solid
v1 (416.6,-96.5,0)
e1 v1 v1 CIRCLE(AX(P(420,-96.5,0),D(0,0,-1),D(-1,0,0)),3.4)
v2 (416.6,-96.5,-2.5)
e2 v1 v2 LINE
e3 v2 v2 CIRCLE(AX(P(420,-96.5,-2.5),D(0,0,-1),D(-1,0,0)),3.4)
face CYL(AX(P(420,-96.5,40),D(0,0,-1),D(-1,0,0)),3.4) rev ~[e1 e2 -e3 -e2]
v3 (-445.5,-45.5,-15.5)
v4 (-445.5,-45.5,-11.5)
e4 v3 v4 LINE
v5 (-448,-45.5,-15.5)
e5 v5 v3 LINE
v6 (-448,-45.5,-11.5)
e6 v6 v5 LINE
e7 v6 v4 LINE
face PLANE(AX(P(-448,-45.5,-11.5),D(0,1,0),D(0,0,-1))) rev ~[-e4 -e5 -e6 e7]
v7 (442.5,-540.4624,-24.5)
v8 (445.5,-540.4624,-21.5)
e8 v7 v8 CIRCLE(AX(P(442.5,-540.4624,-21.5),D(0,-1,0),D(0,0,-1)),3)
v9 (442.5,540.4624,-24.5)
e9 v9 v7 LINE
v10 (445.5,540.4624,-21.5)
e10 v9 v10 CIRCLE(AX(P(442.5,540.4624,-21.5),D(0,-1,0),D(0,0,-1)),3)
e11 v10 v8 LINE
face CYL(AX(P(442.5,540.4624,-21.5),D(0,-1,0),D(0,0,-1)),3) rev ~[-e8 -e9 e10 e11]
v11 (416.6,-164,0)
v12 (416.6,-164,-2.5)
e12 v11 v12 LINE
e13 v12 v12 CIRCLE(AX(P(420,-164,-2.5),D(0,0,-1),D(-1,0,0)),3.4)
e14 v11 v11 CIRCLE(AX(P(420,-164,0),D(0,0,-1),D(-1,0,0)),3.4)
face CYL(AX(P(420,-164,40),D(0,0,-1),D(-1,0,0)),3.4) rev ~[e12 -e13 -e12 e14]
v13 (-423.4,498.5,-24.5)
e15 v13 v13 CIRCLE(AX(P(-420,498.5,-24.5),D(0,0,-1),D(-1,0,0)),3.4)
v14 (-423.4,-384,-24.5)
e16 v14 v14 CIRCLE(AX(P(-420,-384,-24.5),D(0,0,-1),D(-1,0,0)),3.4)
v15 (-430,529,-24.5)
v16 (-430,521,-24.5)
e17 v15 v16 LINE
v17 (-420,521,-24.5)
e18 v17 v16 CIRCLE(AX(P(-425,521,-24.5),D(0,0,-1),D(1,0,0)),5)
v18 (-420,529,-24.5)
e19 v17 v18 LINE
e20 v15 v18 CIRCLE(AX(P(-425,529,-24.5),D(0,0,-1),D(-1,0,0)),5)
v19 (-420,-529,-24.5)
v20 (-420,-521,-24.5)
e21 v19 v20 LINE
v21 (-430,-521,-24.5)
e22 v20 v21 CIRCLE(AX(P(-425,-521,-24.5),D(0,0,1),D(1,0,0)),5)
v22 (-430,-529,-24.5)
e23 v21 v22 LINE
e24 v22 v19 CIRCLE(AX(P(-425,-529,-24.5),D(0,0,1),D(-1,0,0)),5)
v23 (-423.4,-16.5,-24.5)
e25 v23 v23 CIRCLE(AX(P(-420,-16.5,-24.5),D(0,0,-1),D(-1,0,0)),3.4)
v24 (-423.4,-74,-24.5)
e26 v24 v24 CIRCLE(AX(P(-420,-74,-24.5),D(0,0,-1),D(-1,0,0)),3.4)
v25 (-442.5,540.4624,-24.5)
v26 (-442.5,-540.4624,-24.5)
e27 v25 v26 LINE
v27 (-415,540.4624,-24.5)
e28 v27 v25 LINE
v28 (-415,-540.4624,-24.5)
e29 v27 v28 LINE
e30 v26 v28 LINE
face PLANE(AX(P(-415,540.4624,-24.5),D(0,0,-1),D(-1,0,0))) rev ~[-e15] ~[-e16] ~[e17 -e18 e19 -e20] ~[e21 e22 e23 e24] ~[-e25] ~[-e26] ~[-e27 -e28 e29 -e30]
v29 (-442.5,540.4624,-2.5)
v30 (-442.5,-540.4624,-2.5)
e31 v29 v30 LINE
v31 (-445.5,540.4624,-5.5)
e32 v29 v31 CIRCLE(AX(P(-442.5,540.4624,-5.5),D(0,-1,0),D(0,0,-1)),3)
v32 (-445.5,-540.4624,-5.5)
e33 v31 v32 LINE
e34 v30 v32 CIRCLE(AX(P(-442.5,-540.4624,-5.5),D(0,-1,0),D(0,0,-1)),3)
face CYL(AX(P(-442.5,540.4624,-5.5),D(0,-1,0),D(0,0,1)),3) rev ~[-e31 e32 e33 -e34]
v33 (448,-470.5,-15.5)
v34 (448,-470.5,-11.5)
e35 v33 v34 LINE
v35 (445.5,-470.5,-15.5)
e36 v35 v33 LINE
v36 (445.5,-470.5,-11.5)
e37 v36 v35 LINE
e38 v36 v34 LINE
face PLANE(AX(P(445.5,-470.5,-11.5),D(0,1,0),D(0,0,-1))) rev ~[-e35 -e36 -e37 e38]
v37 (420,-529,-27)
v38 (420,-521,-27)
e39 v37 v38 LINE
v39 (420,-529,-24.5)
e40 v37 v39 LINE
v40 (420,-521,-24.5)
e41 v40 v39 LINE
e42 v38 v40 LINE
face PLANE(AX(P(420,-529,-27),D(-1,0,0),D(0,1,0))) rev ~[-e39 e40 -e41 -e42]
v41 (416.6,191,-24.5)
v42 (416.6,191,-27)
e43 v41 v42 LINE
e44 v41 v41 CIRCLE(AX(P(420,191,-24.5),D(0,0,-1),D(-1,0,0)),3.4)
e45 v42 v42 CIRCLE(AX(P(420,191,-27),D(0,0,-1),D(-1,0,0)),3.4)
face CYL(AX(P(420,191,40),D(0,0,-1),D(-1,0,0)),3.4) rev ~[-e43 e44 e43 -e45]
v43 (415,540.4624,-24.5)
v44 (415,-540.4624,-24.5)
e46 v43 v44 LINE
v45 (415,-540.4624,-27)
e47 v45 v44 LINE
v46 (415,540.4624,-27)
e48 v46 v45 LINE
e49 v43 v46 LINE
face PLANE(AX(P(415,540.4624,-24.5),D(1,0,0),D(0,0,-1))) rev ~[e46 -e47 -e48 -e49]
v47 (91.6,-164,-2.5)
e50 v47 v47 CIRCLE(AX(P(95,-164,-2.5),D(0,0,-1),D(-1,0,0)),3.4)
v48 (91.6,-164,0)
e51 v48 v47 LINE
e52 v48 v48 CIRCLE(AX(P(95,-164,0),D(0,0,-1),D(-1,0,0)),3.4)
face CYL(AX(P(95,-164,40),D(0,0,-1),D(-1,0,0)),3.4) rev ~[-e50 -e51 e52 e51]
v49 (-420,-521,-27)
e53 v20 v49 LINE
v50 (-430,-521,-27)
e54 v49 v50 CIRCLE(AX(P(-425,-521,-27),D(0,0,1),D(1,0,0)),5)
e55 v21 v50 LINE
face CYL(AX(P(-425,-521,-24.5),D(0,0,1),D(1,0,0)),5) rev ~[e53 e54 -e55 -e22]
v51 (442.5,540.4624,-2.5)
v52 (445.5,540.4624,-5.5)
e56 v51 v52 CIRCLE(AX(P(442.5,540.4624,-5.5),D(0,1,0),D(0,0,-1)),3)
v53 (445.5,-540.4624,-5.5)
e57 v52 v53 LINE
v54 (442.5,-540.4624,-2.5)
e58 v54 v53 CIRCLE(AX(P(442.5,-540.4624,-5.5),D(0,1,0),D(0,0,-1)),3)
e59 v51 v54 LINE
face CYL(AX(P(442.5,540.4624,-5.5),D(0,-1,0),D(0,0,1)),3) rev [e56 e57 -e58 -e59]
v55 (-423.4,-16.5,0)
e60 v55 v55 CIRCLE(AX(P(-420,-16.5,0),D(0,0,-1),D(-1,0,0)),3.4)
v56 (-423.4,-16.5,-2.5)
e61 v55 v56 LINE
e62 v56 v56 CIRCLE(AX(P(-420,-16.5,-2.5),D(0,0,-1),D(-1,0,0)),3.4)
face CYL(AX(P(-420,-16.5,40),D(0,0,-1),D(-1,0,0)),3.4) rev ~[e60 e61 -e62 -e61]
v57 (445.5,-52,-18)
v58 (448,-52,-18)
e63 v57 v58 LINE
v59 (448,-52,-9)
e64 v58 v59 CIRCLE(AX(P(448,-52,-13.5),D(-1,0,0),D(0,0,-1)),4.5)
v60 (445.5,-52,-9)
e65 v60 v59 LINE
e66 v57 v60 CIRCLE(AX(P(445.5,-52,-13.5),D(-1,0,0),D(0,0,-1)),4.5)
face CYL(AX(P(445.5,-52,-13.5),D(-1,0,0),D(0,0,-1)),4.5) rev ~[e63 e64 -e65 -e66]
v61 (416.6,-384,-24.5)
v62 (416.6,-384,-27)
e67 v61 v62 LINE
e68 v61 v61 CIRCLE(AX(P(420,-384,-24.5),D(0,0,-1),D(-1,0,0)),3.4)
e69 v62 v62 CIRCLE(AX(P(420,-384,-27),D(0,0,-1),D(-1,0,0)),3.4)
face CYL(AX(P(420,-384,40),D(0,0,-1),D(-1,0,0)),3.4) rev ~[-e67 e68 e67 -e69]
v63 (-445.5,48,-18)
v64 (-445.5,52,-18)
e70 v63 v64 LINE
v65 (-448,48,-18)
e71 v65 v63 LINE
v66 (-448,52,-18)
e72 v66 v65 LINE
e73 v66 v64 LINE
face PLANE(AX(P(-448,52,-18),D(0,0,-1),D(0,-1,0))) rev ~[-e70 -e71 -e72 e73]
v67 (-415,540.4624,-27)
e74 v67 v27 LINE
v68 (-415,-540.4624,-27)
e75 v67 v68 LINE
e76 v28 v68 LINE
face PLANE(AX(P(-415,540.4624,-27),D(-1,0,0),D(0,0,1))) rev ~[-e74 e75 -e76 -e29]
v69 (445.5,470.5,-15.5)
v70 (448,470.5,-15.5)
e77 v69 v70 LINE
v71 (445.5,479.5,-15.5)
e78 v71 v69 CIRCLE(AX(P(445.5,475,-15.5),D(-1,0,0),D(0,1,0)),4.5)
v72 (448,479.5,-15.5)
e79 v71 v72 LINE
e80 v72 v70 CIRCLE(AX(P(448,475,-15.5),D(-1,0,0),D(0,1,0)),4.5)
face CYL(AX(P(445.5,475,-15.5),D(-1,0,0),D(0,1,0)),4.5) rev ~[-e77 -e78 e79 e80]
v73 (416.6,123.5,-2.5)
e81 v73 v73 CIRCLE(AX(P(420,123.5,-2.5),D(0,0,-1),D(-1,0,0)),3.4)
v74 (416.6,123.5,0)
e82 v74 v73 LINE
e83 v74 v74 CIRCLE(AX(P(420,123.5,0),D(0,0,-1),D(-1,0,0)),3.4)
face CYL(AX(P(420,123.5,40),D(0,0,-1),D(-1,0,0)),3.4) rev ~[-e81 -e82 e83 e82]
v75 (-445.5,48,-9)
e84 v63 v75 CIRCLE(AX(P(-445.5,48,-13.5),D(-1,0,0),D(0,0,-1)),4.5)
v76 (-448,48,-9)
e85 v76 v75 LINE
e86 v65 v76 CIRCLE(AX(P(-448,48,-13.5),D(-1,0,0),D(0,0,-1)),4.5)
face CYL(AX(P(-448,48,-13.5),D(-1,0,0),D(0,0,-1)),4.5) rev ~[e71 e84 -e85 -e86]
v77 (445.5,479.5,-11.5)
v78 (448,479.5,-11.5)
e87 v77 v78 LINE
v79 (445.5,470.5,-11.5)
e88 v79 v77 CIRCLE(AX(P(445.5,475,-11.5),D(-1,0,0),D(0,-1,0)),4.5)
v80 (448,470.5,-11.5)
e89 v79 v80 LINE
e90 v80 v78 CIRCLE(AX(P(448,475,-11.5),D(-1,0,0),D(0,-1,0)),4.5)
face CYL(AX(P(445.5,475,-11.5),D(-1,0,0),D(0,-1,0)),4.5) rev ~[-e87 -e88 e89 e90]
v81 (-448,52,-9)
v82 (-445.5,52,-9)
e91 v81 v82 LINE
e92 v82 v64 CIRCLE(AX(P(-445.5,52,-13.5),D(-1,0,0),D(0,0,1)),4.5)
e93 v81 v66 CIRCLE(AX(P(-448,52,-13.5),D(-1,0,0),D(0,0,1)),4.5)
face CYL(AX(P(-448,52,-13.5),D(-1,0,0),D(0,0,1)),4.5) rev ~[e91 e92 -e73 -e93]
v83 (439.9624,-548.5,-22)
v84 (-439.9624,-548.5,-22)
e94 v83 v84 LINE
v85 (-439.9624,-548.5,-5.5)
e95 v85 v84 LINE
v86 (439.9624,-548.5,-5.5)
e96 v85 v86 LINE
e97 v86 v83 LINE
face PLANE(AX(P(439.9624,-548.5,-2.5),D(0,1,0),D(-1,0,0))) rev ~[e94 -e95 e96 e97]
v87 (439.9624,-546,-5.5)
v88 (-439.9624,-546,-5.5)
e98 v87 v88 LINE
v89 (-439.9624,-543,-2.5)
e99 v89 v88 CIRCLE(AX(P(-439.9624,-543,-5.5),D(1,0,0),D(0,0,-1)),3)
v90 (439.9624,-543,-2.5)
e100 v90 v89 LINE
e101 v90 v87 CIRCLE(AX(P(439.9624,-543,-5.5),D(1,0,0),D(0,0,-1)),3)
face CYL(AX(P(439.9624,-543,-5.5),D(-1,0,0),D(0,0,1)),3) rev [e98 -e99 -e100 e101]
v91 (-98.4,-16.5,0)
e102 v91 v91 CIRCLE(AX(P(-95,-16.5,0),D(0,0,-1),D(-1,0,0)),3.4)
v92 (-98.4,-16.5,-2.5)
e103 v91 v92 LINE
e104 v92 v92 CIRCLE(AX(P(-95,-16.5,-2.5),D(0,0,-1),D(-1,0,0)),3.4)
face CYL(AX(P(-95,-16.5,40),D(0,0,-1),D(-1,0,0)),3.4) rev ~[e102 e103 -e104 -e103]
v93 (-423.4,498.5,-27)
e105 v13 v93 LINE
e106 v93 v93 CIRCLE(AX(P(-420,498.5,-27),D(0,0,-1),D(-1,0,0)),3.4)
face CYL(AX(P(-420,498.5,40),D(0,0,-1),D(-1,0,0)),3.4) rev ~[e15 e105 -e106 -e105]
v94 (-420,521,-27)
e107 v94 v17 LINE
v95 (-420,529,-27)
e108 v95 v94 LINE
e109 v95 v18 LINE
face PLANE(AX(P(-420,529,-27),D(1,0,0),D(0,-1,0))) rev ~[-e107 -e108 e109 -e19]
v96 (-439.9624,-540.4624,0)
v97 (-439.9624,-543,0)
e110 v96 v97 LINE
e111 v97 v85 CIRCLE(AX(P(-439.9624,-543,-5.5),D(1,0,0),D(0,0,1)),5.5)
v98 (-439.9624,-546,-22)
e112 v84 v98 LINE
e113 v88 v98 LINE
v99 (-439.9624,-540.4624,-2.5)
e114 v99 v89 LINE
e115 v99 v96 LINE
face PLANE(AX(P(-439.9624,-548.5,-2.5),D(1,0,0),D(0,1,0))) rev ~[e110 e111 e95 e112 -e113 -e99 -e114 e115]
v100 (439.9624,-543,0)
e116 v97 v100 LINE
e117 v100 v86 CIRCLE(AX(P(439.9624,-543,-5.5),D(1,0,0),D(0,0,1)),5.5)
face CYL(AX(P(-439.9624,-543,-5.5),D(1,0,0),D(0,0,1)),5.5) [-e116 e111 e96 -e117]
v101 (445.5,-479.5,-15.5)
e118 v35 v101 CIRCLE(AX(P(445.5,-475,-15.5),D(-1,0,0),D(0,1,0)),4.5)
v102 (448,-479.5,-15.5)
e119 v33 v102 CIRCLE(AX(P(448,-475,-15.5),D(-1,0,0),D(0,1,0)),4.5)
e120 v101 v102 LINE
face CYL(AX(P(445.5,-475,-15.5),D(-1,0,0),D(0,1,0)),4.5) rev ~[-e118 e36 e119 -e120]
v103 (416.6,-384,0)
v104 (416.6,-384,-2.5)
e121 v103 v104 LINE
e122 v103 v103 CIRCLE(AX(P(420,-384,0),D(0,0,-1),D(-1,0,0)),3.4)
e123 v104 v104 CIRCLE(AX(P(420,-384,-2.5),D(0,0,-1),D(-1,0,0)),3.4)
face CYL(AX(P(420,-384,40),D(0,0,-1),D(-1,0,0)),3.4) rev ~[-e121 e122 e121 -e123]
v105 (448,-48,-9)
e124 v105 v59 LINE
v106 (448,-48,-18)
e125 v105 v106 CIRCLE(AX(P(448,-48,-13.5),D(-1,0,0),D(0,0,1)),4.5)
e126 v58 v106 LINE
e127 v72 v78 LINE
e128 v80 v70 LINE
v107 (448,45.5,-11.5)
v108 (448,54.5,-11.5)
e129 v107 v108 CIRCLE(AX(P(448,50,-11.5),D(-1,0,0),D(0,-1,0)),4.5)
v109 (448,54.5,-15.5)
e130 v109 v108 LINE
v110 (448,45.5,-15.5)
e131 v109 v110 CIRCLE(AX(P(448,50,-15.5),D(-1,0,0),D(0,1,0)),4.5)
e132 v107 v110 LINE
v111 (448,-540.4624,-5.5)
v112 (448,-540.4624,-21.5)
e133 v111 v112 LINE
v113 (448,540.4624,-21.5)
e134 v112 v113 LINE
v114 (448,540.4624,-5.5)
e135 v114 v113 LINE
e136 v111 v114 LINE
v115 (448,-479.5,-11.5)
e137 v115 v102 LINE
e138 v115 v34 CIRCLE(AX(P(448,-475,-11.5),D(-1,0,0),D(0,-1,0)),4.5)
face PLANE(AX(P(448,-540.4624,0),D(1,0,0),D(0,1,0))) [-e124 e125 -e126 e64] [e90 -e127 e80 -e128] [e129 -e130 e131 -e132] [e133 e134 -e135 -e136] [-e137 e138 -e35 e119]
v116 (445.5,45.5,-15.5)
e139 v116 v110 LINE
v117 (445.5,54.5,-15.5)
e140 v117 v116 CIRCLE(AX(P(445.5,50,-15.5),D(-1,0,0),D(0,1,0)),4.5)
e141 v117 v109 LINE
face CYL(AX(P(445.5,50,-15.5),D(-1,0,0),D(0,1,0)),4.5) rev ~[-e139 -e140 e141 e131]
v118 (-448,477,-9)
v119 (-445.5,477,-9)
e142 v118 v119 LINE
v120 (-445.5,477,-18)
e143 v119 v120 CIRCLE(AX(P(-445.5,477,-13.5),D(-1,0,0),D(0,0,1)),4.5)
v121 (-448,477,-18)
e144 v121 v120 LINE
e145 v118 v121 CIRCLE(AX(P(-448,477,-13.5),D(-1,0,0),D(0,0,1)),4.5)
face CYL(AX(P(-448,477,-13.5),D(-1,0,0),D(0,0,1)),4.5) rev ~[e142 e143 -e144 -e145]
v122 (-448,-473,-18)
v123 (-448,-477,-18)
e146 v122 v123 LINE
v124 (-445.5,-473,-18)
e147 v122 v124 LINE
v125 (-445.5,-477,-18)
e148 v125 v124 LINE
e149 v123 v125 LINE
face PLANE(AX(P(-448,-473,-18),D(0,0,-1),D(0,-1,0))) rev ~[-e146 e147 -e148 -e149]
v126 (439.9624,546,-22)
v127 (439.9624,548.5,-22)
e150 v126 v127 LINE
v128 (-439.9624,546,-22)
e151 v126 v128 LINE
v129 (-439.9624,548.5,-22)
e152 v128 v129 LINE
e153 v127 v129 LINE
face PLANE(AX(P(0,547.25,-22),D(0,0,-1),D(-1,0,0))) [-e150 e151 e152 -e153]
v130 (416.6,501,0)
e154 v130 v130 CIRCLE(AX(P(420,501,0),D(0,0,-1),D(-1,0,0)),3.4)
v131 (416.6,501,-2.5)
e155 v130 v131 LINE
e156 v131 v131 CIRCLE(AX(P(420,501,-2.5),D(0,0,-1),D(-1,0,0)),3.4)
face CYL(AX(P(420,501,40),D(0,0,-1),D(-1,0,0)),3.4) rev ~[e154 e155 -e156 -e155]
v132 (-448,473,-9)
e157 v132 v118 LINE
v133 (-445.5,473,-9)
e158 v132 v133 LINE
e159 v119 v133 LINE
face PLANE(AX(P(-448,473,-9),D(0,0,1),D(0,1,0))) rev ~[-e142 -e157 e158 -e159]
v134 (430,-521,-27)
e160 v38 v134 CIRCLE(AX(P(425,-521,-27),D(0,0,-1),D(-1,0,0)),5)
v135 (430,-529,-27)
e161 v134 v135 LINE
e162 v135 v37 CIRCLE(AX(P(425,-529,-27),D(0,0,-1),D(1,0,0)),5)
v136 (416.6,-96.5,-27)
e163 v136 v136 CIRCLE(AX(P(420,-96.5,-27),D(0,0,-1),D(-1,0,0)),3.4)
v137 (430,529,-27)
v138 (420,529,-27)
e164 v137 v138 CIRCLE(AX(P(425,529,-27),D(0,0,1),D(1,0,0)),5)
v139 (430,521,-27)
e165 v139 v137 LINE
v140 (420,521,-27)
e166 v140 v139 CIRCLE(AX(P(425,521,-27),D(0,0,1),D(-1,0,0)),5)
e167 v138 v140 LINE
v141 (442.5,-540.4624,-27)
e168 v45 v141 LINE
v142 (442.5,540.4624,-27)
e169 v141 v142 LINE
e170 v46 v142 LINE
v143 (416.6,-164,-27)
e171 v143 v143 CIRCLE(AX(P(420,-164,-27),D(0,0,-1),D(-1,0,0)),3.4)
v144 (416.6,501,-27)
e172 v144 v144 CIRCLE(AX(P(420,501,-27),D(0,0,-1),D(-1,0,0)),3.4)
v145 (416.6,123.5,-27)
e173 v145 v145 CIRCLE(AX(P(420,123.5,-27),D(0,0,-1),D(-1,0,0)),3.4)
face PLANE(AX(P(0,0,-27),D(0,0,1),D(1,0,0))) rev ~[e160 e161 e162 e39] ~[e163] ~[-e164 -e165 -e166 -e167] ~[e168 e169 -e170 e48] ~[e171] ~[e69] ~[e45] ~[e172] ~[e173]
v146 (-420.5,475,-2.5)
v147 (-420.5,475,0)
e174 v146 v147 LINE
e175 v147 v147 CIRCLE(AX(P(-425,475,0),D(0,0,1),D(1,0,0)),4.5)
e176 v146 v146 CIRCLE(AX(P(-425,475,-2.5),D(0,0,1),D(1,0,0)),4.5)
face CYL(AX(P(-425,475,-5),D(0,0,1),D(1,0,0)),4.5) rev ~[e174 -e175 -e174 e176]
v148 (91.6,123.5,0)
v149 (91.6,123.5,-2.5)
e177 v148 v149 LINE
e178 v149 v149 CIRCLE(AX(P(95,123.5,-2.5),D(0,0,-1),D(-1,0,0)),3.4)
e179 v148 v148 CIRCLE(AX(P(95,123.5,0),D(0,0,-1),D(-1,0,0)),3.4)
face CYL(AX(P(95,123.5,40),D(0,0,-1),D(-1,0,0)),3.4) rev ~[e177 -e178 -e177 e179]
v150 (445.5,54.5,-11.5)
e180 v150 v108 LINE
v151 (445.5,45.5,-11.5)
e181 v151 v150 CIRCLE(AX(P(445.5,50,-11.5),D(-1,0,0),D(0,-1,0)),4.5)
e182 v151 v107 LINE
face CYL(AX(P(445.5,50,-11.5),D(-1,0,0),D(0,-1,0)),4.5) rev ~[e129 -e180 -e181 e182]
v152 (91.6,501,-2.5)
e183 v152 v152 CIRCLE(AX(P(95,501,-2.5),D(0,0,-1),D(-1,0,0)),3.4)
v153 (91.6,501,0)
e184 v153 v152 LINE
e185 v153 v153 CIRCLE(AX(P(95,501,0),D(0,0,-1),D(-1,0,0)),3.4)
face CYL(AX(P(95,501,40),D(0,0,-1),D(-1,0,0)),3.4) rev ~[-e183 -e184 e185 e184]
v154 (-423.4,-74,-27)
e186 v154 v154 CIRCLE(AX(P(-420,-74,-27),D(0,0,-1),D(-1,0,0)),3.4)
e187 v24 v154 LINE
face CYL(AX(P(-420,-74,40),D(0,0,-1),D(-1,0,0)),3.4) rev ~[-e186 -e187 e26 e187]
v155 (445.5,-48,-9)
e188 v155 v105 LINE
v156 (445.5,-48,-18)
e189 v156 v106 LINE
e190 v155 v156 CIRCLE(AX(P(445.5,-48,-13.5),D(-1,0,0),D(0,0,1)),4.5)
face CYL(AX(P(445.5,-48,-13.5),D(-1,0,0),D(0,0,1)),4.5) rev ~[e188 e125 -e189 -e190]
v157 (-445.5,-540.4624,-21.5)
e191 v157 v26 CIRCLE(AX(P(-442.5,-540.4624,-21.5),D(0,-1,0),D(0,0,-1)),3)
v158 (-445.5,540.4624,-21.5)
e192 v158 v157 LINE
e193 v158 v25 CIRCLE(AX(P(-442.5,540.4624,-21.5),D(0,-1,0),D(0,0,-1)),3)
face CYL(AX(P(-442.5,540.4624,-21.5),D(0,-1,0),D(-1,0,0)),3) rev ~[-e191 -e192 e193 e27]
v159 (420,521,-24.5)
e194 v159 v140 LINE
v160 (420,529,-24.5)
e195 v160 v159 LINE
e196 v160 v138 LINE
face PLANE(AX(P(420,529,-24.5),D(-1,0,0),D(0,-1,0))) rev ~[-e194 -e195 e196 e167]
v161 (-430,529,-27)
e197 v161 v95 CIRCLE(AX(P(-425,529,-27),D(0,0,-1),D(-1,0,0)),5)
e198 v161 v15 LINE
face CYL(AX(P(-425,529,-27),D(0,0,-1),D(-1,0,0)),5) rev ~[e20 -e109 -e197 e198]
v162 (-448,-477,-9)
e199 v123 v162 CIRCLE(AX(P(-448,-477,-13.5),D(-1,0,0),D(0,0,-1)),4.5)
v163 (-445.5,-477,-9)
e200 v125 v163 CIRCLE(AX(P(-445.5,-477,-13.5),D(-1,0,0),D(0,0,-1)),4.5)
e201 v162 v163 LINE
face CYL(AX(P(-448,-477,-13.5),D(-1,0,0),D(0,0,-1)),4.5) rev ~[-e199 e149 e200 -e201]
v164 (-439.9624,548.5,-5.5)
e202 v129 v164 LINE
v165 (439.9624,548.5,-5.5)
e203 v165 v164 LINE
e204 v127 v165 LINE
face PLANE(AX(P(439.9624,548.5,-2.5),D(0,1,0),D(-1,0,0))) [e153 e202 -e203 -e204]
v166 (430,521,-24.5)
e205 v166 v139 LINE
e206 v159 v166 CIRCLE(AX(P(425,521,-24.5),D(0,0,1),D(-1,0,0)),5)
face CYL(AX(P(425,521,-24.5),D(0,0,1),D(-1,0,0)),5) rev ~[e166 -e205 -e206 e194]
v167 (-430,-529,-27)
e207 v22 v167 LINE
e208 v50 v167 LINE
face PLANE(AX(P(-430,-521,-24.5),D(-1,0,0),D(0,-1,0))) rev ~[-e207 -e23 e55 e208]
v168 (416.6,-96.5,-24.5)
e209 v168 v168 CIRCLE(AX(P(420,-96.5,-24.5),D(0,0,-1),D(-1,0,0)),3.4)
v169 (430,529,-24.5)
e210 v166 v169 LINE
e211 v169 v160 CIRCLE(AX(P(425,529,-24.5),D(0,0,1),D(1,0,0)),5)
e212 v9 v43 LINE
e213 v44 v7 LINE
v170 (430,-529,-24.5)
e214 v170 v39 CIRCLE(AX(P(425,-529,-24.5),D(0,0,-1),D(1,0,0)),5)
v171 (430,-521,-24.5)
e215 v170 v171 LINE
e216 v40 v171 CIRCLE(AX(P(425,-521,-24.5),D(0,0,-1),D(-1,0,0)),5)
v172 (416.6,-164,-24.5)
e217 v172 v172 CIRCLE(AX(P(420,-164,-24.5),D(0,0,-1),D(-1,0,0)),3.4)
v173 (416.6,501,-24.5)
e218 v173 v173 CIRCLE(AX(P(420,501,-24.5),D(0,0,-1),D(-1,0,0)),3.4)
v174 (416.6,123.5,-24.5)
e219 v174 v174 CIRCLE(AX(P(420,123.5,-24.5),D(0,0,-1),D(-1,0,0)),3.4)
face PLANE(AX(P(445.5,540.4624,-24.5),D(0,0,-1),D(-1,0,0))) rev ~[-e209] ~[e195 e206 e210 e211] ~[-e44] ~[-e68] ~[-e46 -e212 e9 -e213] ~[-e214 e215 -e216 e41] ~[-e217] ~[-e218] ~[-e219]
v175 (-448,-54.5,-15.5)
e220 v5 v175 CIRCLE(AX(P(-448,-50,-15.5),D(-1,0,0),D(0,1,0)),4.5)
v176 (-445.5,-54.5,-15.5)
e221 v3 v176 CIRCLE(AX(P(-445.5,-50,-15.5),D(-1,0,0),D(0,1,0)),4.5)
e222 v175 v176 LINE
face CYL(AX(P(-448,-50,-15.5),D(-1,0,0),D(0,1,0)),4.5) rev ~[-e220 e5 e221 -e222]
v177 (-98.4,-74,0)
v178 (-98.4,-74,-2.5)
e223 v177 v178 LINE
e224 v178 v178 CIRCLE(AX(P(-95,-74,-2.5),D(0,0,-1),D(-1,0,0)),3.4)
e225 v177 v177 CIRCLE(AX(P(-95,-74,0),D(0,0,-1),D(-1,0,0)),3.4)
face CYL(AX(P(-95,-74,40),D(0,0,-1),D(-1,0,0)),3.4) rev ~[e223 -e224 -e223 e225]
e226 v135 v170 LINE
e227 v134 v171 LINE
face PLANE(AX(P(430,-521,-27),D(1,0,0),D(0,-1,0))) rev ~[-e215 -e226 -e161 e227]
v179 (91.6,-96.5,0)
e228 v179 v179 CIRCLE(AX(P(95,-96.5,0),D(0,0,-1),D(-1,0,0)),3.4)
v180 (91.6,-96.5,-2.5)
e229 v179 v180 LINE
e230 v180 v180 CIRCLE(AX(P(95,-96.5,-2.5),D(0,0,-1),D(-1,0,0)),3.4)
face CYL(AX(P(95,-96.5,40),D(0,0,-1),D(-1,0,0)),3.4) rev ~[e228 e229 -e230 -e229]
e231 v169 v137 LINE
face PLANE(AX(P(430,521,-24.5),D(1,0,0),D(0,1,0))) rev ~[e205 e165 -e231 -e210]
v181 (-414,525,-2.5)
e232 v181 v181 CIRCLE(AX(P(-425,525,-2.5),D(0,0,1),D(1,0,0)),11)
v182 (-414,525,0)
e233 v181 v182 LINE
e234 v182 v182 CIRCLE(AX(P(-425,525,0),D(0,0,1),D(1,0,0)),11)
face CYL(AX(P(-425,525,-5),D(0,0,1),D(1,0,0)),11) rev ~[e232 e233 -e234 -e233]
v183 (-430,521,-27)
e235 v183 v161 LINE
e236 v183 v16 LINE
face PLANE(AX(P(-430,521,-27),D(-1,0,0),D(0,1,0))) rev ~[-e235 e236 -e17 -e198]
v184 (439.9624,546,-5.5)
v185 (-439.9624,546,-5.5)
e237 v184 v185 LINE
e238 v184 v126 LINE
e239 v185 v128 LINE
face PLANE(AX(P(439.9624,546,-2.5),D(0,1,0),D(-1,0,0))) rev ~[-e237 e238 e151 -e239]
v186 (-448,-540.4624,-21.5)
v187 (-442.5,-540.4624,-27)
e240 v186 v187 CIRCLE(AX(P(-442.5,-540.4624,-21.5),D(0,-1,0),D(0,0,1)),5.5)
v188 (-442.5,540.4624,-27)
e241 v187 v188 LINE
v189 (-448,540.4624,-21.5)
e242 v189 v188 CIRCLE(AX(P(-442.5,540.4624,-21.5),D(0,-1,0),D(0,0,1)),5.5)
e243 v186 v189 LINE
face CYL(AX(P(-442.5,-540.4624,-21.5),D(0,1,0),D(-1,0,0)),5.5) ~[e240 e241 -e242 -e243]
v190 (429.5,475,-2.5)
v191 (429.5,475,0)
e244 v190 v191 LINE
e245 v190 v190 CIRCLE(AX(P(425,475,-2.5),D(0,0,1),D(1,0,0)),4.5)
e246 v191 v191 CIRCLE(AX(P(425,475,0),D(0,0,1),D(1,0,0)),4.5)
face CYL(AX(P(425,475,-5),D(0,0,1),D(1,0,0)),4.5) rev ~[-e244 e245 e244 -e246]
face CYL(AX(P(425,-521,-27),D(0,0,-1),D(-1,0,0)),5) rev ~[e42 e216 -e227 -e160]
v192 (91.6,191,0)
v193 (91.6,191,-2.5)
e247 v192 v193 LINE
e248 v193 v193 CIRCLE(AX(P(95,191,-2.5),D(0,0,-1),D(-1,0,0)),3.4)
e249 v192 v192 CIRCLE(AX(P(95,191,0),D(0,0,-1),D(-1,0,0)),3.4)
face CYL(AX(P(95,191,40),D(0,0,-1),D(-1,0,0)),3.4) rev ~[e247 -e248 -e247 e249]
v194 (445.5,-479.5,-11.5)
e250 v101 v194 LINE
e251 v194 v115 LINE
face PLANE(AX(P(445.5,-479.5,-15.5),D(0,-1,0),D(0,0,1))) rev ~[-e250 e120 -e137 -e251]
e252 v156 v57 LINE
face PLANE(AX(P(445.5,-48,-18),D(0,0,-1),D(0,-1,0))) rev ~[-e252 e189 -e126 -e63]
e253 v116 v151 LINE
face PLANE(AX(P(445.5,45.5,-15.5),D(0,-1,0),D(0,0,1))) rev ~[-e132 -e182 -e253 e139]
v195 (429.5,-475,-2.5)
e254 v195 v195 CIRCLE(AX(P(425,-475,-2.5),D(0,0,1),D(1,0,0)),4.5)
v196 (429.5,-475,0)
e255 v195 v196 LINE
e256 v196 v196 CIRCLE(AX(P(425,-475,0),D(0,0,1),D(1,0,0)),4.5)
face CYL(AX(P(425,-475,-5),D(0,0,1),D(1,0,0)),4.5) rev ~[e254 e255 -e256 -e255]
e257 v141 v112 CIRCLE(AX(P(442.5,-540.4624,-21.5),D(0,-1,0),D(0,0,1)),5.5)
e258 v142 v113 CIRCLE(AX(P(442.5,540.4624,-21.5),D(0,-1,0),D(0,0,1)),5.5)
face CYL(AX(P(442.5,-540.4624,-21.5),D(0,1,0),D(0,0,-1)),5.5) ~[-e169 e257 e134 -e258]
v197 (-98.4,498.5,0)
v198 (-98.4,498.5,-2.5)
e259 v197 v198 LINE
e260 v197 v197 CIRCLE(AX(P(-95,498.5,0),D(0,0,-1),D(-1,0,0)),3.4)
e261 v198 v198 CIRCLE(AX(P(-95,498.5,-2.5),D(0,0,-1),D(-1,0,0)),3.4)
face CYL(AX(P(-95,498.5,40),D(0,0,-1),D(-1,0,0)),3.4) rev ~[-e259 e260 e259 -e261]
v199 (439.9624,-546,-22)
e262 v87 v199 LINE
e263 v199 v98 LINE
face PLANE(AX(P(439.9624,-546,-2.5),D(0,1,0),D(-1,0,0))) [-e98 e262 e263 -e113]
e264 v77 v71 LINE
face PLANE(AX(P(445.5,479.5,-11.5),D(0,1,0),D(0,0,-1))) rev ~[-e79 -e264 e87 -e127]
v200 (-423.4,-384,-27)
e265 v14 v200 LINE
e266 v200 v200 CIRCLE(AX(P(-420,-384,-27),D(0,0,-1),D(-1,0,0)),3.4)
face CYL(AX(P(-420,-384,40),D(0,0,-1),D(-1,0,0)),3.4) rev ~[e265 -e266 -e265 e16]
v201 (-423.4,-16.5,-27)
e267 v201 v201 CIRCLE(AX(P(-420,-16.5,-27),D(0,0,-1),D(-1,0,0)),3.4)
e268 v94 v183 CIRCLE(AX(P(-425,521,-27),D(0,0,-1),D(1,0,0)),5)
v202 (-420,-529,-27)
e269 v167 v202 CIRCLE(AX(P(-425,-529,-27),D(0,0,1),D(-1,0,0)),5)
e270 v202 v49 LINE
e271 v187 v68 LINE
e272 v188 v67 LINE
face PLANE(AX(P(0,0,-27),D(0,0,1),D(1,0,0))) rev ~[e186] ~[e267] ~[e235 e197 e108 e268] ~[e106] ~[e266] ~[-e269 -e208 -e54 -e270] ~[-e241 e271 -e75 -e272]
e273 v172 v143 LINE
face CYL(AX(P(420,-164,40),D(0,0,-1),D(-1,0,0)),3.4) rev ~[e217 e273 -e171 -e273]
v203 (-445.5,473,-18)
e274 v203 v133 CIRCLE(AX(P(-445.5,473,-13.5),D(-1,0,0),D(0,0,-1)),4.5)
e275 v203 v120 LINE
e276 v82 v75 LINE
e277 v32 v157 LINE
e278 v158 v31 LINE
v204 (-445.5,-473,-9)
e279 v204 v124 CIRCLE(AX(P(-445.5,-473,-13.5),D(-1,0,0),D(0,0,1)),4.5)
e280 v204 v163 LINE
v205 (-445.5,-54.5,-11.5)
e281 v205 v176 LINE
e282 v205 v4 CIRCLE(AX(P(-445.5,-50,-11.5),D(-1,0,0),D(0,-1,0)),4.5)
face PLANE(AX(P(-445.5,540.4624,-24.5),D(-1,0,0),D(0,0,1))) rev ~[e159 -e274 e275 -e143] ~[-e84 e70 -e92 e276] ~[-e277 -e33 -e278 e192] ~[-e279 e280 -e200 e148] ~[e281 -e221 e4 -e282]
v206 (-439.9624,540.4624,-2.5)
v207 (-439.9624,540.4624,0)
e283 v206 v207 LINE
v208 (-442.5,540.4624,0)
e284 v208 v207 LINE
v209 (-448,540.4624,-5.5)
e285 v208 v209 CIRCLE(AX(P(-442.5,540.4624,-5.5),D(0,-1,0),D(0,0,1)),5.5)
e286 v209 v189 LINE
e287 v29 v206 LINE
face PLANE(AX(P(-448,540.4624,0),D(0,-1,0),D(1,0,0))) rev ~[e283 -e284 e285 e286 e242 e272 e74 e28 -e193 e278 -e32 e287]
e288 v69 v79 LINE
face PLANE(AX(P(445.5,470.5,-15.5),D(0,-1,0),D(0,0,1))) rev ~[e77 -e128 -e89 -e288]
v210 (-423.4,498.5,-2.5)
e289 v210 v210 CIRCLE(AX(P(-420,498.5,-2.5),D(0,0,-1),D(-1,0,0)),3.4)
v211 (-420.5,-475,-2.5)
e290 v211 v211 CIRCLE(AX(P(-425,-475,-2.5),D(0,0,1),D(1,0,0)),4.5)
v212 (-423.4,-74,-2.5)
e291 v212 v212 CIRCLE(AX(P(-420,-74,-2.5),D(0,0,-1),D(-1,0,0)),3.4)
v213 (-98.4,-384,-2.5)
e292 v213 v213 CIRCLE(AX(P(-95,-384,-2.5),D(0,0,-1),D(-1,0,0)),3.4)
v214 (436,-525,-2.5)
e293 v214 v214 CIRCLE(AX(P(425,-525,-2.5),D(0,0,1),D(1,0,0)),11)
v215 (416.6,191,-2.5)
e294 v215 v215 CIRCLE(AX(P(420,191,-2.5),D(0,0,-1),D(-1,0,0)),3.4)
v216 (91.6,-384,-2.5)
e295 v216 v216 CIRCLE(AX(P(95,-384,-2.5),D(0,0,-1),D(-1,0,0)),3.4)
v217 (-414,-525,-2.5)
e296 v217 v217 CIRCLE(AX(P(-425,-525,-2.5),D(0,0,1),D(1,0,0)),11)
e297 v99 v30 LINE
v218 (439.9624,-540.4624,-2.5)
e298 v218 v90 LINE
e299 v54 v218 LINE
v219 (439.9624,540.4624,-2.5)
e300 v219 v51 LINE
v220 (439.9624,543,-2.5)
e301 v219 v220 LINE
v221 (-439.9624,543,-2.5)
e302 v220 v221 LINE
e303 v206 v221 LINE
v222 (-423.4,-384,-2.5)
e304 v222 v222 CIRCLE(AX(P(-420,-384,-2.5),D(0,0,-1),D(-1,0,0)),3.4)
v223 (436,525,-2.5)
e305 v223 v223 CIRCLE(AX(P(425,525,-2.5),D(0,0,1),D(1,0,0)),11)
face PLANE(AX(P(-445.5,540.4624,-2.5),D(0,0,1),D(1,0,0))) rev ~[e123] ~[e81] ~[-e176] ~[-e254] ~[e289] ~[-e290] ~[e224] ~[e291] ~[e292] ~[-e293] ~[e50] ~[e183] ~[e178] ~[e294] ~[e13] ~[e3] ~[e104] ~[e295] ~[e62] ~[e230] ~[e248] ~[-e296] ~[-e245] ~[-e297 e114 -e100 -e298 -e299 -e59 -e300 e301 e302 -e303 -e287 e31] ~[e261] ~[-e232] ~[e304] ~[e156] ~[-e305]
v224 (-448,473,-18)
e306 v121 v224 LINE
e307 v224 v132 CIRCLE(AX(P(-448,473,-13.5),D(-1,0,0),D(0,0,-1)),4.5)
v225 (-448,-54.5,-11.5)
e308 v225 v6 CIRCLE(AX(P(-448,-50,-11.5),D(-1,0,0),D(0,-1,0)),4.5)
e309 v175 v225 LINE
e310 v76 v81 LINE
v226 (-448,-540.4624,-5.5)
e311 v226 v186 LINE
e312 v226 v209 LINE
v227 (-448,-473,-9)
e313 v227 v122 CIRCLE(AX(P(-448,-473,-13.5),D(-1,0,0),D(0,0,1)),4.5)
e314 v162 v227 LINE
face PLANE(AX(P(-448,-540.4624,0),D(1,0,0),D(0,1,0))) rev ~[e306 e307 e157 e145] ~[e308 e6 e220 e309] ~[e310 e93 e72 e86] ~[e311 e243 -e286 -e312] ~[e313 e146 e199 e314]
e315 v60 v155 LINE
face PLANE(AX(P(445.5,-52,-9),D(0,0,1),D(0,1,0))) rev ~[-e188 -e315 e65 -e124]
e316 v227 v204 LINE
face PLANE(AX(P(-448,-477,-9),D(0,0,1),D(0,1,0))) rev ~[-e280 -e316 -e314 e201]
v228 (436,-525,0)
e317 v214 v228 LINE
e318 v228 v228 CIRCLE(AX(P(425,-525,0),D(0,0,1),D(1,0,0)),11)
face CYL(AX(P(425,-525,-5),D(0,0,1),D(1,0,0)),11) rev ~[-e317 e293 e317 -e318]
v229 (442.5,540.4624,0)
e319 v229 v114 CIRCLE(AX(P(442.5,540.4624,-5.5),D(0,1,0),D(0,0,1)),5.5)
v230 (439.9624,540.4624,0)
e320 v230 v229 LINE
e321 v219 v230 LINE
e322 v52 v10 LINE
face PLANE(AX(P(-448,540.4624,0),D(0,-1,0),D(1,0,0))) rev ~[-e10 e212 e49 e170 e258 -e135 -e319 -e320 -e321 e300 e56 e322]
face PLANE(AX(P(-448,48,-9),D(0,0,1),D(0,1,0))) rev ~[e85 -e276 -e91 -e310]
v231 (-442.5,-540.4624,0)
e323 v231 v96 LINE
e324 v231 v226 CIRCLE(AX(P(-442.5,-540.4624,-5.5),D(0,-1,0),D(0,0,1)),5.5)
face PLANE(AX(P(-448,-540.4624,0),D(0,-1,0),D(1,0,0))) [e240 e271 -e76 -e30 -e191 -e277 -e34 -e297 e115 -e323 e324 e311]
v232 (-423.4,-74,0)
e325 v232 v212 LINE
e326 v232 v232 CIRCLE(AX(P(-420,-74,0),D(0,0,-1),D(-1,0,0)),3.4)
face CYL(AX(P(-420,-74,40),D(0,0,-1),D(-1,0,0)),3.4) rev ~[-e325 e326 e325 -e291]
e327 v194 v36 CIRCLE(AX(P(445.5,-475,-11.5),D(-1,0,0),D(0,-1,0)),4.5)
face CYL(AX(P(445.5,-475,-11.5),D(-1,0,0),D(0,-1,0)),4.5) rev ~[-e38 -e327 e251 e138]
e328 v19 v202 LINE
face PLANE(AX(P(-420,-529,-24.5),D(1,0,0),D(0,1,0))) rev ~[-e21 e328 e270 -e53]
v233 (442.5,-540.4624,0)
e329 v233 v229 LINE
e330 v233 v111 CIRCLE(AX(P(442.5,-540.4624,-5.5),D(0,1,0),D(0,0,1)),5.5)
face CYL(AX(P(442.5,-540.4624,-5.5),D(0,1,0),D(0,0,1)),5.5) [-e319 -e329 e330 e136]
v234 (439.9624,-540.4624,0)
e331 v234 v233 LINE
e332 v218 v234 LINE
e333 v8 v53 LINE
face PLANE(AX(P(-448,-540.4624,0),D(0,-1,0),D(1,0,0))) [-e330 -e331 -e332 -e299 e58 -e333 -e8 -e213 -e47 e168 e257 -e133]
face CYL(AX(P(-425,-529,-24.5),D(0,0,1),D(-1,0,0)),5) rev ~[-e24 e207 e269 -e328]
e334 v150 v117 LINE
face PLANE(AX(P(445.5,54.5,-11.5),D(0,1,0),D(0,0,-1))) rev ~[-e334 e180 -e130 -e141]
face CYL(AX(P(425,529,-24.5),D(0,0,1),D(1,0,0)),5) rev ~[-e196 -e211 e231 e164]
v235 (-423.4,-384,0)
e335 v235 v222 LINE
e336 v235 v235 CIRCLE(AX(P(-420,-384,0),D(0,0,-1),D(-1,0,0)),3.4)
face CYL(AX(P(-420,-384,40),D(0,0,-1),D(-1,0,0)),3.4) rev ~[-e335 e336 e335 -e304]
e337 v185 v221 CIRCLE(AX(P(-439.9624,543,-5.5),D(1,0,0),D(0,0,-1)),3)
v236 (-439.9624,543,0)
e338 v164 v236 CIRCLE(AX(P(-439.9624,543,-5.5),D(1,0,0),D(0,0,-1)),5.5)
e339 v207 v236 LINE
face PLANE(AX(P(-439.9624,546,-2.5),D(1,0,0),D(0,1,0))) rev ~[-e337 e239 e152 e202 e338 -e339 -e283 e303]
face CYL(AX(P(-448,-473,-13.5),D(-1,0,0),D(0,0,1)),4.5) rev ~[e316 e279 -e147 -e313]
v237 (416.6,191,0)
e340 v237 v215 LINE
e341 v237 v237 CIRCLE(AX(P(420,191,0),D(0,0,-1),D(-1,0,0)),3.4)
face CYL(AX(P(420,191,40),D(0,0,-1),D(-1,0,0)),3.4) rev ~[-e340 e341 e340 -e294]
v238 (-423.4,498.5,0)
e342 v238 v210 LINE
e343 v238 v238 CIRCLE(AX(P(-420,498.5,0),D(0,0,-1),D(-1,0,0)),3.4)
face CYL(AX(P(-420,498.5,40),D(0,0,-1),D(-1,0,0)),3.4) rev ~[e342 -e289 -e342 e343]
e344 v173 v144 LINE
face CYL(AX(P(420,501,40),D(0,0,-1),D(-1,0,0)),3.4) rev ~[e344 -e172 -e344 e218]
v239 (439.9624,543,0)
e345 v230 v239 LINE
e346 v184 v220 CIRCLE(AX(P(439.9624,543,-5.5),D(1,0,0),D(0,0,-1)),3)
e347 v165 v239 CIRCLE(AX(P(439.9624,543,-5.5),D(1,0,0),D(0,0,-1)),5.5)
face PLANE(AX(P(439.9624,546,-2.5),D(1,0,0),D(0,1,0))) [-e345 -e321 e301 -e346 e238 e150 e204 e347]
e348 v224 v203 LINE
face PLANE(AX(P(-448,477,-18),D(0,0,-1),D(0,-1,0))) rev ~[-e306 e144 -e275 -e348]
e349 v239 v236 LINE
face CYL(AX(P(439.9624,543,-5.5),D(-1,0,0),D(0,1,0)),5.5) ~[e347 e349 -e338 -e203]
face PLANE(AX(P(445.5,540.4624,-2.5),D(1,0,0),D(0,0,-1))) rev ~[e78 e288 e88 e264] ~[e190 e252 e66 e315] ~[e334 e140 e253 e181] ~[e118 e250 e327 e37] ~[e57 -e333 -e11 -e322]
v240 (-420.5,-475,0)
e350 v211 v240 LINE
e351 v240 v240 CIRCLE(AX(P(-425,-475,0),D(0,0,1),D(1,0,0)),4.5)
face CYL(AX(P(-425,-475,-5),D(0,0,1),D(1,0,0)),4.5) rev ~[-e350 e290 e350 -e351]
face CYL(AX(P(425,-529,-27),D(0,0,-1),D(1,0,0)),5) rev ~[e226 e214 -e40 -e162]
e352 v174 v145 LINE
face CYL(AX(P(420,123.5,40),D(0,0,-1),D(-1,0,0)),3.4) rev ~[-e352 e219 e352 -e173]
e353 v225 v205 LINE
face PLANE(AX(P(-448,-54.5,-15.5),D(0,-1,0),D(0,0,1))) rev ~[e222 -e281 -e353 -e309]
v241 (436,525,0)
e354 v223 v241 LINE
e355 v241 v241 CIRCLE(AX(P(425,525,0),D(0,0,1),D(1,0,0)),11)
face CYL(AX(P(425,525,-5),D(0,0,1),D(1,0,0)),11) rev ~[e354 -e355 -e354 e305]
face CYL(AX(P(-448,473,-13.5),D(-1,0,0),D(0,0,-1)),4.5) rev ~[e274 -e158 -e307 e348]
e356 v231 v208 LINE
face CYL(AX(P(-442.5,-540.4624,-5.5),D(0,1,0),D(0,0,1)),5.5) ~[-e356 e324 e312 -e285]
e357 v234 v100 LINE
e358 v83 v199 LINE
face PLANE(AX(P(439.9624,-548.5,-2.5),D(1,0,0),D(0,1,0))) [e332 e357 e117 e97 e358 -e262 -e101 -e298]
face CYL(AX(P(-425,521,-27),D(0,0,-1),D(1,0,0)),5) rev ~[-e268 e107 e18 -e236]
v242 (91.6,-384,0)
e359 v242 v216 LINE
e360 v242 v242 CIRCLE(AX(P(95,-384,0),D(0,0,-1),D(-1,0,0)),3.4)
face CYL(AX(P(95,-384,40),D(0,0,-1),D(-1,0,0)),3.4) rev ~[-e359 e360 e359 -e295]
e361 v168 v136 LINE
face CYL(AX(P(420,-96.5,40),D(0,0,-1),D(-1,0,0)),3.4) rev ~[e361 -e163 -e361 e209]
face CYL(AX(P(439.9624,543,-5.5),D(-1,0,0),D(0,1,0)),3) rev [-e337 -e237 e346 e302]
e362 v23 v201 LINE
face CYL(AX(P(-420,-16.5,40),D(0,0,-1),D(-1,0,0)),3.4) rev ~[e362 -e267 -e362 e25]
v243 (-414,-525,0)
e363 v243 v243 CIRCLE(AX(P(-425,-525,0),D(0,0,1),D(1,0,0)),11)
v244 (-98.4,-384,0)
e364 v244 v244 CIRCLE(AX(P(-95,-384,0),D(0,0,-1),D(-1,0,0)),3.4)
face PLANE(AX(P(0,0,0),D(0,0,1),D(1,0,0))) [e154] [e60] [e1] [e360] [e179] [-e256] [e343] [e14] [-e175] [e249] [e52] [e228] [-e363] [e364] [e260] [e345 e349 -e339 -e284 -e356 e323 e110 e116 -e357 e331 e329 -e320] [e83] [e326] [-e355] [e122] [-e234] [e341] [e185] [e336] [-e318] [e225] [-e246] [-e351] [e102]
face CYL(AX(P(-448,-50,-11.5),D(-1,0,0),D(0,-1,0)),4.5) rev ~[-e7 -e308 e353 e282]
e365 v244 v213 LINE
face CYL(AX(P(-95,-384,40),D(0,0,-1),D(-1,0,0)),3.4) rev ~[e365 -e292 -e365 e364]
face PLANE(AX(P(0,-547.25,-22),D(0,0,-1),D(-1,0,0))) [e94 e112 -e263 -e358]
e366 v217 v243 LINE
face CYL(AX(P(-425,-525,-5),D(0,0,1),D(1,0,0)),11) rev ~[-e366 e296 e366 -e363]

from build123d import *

# Parameters (mm, degrees)
ESQUISSE1_W                                   = 896
ESQUISSE1_H                                   = 1080.9248
BOSS_EXTRU_1_DEPTH                            = 27
ENL_V_MAT_EXTRU_1_DEPTH                       = 1081.9248
ESQUISSE3_W                                   = 879.9248
ESQUISSE3_H                                   = 2.5
BOSS_EXTRU_2_DEPTH                            = 8.0376
ESQUISSE4_W                                   = 879.9248
ESQUISSE4_H                                   = 2.5
BOSS_EXTRU_3_DEPTH                            = 19.5
ESQUISSE5_W                                   = 879.9248
ESQUISSE5_H                                   = 2.5
BOSS_EXTRU_4_DEPTH                            = 8.0376
ESQUISSE6_W                                   = 879.9248
ESQUISSE6_H                                   = 2.5
BOSS_EXTRU_5_DEPTH                            = 19.5
ENL_V_MAT_EXTRU_2_REACH                       = 29
ENL_V_MAT_EXTRU_3_DEPTH                       = 3.5
ENL_V_MAT_EXTRU_4_DEPTH                       = 3.5
ENL_V_MAT_EXTRU_5_DEPTH                       = 3.5
ENL_V_MAT_EXTRU_6_DEPTH                       = 3.5
ENL_V_MAT_EXTRU_7_DEPTH                       = 3.5
ENL_V_MAT_EXTRU_8_DEPTH                       = 3.5
ENL_V_MAT_EXTRU_9_REACH                       = 898
ENL_V_MAT_EXTRU_10_REACH                      = 898
ENL_V_MAT_EXTRU_11_REACH                      = 898
ENL_V_MAT_EXTRU_12_REACH                      = 898
ENL_V_MAT_EXTRU_13_REACH                      = 29
DIAM_TRE_DU_PER_AGE_9_0_9_1_D                 = 9
DIAM_TRE_DU_PER_AGE_9_0_9_1_DEPTH             = 2.5
DIAM_TRE_DU_PER_AGE_22_0_22_1_D               = 22
DIAM_TRE_DU_PER_AGE_22_0_22_1_DEPTH           = 2.5
CONG_1_R                                      = 3
CONG_2_R                                      = 5.5
TROU_POUR_TARAUDAGE_POUR_TROU_TARAUD_M8_D     = 6.8
TROU_POUR_TARAUDAGE_POUR_TROU_TARAUD_M8_DEPTH = 40
TROU_POUR_TARAUDAGE_POUR_TROU_TARAUD_M8_TIP   = 2.042926105
TROU_POUR_TARAUDAGE_POUR_TROU_TARAUD_2_D      = 6.8
TROU_POUR_TARAUDAGE_POUR_TROU_TARAUD_2_DEPTH  = 40
TROU_POUR_TARAUDAGE_POUR_TROU_TARAUD_2_TIP    = 2.042926105


with BuildPart() as part:
    # Esquisse1 → Boss.-Extru.1 (new body)
    with BuildSketch(Plane.XY):
        Rectangle(ESQUISSE1_W, ESQUISSE1_H)
    extrude(amount=-BOSS_EXTRU_1_DEPTH)

    # Esquisse2 → Enlèv. mat.-Extru.1 (cut, through all)
    with BuildSketch(Plane(origin=(0, 540.4624, 0), x_dir=(-1, 0, 0), z_dir=(0, 1, 0))):
        Polygon((415, -27), (415, -24.5), (445.5, -24.5), (445.5, -2.5), (-445.5, -2.5), (-445.5, -24.5), (-415, -24.5), (-415, -27), align=None)
    extrude(amount=-ENL_V_MAT_EXTRU_1_DEPTH, mode=Mode.SUBTRACT)

    # Esquisse3 → Boss.-Extru.2 (add)
    with BuildSketch(Plane.XZ.offset(540.4624)):
        with Locations((0, -1.25)):
            Rectangle(ESQUISSE3_W, ESQUISSE3_H)
    extrude(amount=BOSS_EXTRU_2_DEPTH)

    # Esquisse4 → Boss.-Extru.3 (add)
    with BuildSketch(Plane(origin=(0, 0, -2.5), x_dir=(-1, 0, 0), z_dir=(0, 0, -1))):
        with Locations((0, -547.25)):
            Rectangle(ESQUISSE4_W, ESQUISSE4_H)
    extrude(amount=BOSS_EXTRU_3_DEPTH)

    # Esquisse5 → Boss.-Extru.4 (add)
    with BuildSketch(Plane(origin=(0, 540.4624, 0), x_dir=(-1, 0, 0), z_dir=(0, 1, 0))):
        with Locations((0, -1.25)):
            Rectangle(ESQUISSE5_W, ESQUISSE5_H)
    extrude(amount=BOSS_EXTRU_4_DEPTH)

    # Esquisse6 → Boss.-Extru.5 (add)
    with BuildSketch(Plane(origin=(0, 0, -2.5), x_dir=(-1, 0, 0), z_dir=(0, 0, -1))):
        with Locations((0, 547.25)):
            Rectangle(ESQUISSE6_W, ESQUISSE6_H)
    extrude(amount=BOSS_EXTRU_5_DEPTH)

    # Esquisse7 → Enlèv. mat.-Extru.2 (cut, up to next)
    with BuildSketch(Plane(origin=(0, 0, -27), x_dir=(-1, 0, 0), z_dir=(0, 0, -1)), mode=Mode.PRIVATE) as enl_v_mat_extru_2_sk1:
        with BuildLine():
            Line((-430, -521), (-430, -529))
            ThreePointArc((-430, -529), (-425, -534), (-420, -529))
            Line((-420, -529), (-420, -521))
            ThreePointArc((-420, -521), (-425, -516), (-430, -521))
        make_face()
    enl_v_mat_extru_2_tool1 = extrude(enl_v_mat_extru_2_sk1.sketch, amount=-ENL_V_MAT_EXTRU_2_REACH, mode=Mode.PRIVATE) & part.part
    add(enl_v_mat_extru_2_tool1.solids().sort_by_distance((425, -525, -27))[0], mode=Mode.SUBTRACT)

    # Esquisse8 → Enlèv. mat.-Extru.3 (cut, through all)
    with BuildSketch(Plane.ZY.offset(-445.5)):
        with BuildLine():
            Line((-9, -52), (-9, -48))
            ThreePointArc((-9, -48), (-13.5, -43.5), (-18, -48))
            Line((-18, -48), (-18, -52))
            ThreePointArc((-18, -52), (-13.5, -56.5), (-9, -52))
        make_face()
    extrude(amount=-ENL_V_MAT_EXTRU_3_DEPTH, mode=Mode.SUBTRACT)

    # Esquisse9 → Enlèv. mat.-Extru.4 (cut, through all)
    with BuildSketch(Plane.ZY.offset(-445.5)):
        with BuildLine():
            Line((-11.5, -470.5), (-15.5, -470.5))
            ThreePointArc((-15.5, -470.5), (-20, -475), (-15.5, -479.5))
            Line((-15.5, -479.5), (-11.5, -479.5))
            ThreePointArc((-11.5, -479.5), (-7, -475), (-11.5, -470.5))
        make_face()
    extrude(amount=-ENL_V_MAT_EXTRU_4_DEPTH, mode=Mode.SUBTRACT)

    # Esquisse10 → Enlèv. mat.-Extru.5 (cut, through all)
    with BuildSketch(Plane.ZY.offset(-445.5)):
        with BuildLine():
            Line((-11.5, 479.5), (-15.5, 479.5))
            ThreePointArc((-15.5, 479.5), (-20, 475), (-15.5, 470.5))
            Line((-15.5, 470.5), (-11.5, 470.5))
            ThreePointArc((-11.5, 470.5), (-7, 475), (-11.5, 479.5))
        make_face()
    extrude(amount=-ENL_V_MAT_EXTRU_5_DEPTH, mode=Mode.SUBTRACT)

    # Esquisse11 → Enlèv. mat.-Extru.6 (cut, through all)
    with BuildSketch(Plane.ZY.offset(-445.5)):
        with BuildLine():
            Line((-11.5, 54.5), (-15.5, 54.5))
            ThreePointArc((-15.5, 54.5), (-20, 50), (-15.5, 45.5))
            Line((-15.5, 45.5), (-11.5, 45.5))
            ThreePointArc((-11.5, 45.5), (-7, 50), (-11.5, 54.5))
        make_face()
    extrude(amount=-ENL_V_MAT_EXTRU_6_DEPTH, mode=Mode.SUBTRACT)

    # Esquisse12 → Enlèv. mat.-Extru.7 (cut, through all)
    with BuildSketch(Plane.XY.offset(-24.5)):
        with BuildLine():
            Line((430, 521), (430, 529))
            ThreePointArc((430, 529), (425, 534), (420, 529))
            Line((420, 529), (420, 521))
            ThreePointArc((420, 521), (425, 516), (430, 521))
        make_face()
    extrude(amount=-ENL_V_MAT_EXTRU_7_DEPTH, mode=Mode.SUBTRACT)

    # Esquisse13 → Enlèv. mat.-Extru.8 (cut, through all)
    with BuildSketch(Plane.XY.offset(-24.5)):
        with BuildLine():
            Line((-430, -521), (-430, -529))
            ThreePointArc((-430, -529), (-425, -534), (-420, -529))
            Line((-420, -529), (-420, -521))
            ThreePointArc((-420, -521), (-425, -516), (-430, -521))
        make_face()
    extrude(amount=-ENL_V_MAT_EXTRU_8_DEPTH, mode=Mode.SUBTRACT)

    # Esquisse14 → Enlèv. mat.-Extru.9 (cut, up to next)
    with BuildSketch(Plane.ZY.offset(448), mode=Mode.PRIVATE) as enl_v_mat_extru_9_sk1:
        with BuildLine():
            Line((-11.5, -45.5), (-15.5, -45.5))
            ThreePointArc((-15.5, -45.5), (-20, -50), (-15.5, -54.5))
            Line((-15.5, -54.5), (-11.5, -54.5))
            ThreePointArc((-11.5, -54.5), (-7, -50), (-11.5, -45.5))
        make_face()
    enl_v_mat_extru_9_tool1 = extrude(enl_v_mat_extru_9_sk1.sketch, amount=-ENL_V_MAT_EXTRU_9_REACH, mode=Mode.PRIVATE) & part.part
    add(enl_v_mat_extru_9_tool1.solids().sort_by_distance((-448, -50, -13.5))[0], mode=Mode.SUBTRACT)

    # Esquisse15 → Enlèv. mat.-Extru.10 (cut, up to next)
    with BuildSketch(Plane.ZY.offset(448), mode=Mode.PRIVATE) as enl_v_mat_extru_10_sk1:
        with BuildLine():
            Line((-9, -477), (-9, -473))
            ThreePointArc((-9, -473), (-13.5, -468.5), (-18, -473))
            Line((-18, -473), (-18, -477))
            ThreePointArc((-18, -477), (-13.5, -481.5), (-9, -477))
        make_face()
    enl_v_mat_extru_10_tool1 = extrude(enl_v_mat_extru_10_sk1.sketch, amount=-ENL_V_MAT_EXTRU_10_REACH, mode=Mode.PRIVATE) & part.part
    add(enl_v_mat_extru_10_tool1.solids().sort_by_distance((-448, -475, -13.5))[0], mode=Mode.SUBTRACT)

    # Esquisse16 → Enlèv. mat.-Extru.11 (cut, up to next)
    with BuildSketch(Plane.ZY.offset(448), mode=Mode.PRIVATE) as enl_v_mat_extru_11_sk1:
        with BuildLine():
            Line((-9, 473), (-9, 477))
            ThreePointArc((-9, 477), (-13.5, 481.5), (-18, 477))
            Line((-18, 477), (-18, 473))
            ThreePointArc((-18, 473), (-13.5, 468.5), (-9, 473))
        make_face()
    enl_v_mat_extru_11_tool1 = extrude(enl_v_mat_extru_11_sk1.sketch, amount=-ENL_V_MAT_EXTRU_11_REACH, mode=Mode.PRIVATE) & part.part
    add(enl_v_mat_extru_11_tool1.solids().sort_by_distance((-448, 475, -13.5))[0], mode=Mode.SUBTRACT)

    # Esquisse17 → Enlèv. mat.-Extru.12 (cut, up to next)
    with BuildSketch(Plane.ZY.offset(448), mode=Mode.PRIVATE) as enl_v_mat_extru_12_sk1:
        with BuildLine():
            Line((-9, 48), (-9, 52))
            ThreePointArc((-9, 52), (-13.5, 56.5), (-18, 52))
            Line((-18, 52), (-18, 48))
            ThreePointArc((-18, 48), (-13.5, 43.5), (-9, 48))
        make_face()
    enl_v_mat_extru_12_tool1 = extrude(enl_v_mat_extru_12_sk1.sketch, amount=-ENL_V_MAT_EXTRU_12_REACH, mode=Mode.PRIVATE) & part.part
    add(enl_v_mat_extru_12_tool1.solids().sort_by_distance((-448, 50, -13.5))[0], mode=Mode.SUBTRACT)

    # Esquisse18 → Enlèv. mat.-Extru.13 (cut, up to next)
    with BuildSketch(Plane(origin=(0, 0, -27), x_dir=(-1, 0, 0), z_dir=(0, 0, -1)), mode=Mode.PRIVATE) as enl_v_mat_extru_13_sk1:
        with BuildLine():
            Line((430, 521), (430, 529))
            ThreePointArc((430, 529), (425, 534), (420, 529))
            Line((420, 529), (420, 521))
            ThreePointArc((420, 521), (425, 516), (430, 521))
        make_face()
    enl_v_mat_extru_13_tool1 = extrude(enl_v_mat_extru_13_sk1.sketch, amount=-ENL_V_MAT_EXTRU_13_REACH, mode=Mode.PRIVATE) & part.part
    add(enl_v_mat_extru_13_tool1.solids().sort_by_distance((-425, 525, -27))[0], mode=Mode.SUBTRACT)

    # Diamètre du perçage Ø9.0 (9)1
    with Locations(Plane(origin=(0, 0, -2.5), x_dir=(-1, 0, 0), z_dir=(0, 0, -1))):
        with Locations((425, -475), (425, 475), (-425, -475), (-425, 475)):
            Hole(DIAM_TRE_DU_PER_AGE_9_0_9_1_D / 2, depth=DIAM_TRE_DU_PER_AGE_9_0_9_1_DEPTH)

    # Diamètre du perçage Ø22.0 (22)1
    with Locations(Plane(origin=(0, 0, -2.5), x_dir=(-1, 0, 0), z_dir=(0, 0, -1))):
        with Locations((425, -525), (425, 525), (-425, -525), (-425, 525)):
            Hole(DIAM_TRE_DU_PER_AGE_22_0_22_1_D / 2, depth=DIAM_TRE_DU_PER_AGE_22_0_22_1_DEPTH)

    # Congé1
    cong_1_edges = [part.edges().sort_by_distance(p)[0] for p in [
        (445.5, 0, -24.5),
        (445.5, 0, -2.5),
        (-445.5, 0, -2.5),
        (-445.5, 0, -24.5),
        (0, -546, -2.5),
        (0, 546, -2.5),
    ]]
    fillet(cong_1_edges, radius=CONG_1_R)

    # Congé2
    cong_2_edges = [part.edges().sort_by_distance(p)[0] for p in [
        (448, 0, -27),
        (448, 0, 0),
        (0, -548.5, 0),
        (-448, 0, 0),
        (-448, 0, -27),
        (0, 548.5, 0),
    ]]
    fillet(cong_2_edges, radius=CONG_2_R)

    # Trou pour taraudage pour trou taraud_ M8
    with Locations(Plane.XY):
        with Locations((-420, 498.5)):
            Hole(TROU_POUR_TARAUDAGE_POUR_TROU_TARAUD_M8_D / 2, depth=TROU_POUR_TARAUDAGE_POUR_TROU_TARAUD_M8_DEPTH)
            with Locations((0, 0, -(TROU_POUR_TARAUDAGE_POUR_TROU_TARAUD_M8_DEPTH + TROU_POUR_TARAUDAGE_POUR_TROU_TARAUD_M8_TIP / 2))):  # 118° drill point
                Cone(0, TROU_POUR_TARAUDAGE_POUR_TROU_TARAUD_M8_D / 2, TROU_POUR_TARAUDAGE_POUR_TROU_TARAUD_M8_TIP, mode=Mode.SUBTRACT)

    # Trou pour taraudage pour trou taraud 2
    with Locations(Plane.XY):
        with Locations((-95, 498.5), (95, 501), (420, 501), (420, 191), (420, 123.5), (95, 191), (95, 123.5), (95, -96.5), (95, -164), (420, -96.5), (420, -164), (420, -384), (95, -384), (-95, -384), (-420, -384), (-420, -74), (-420, -16.5), (-95, -16.5), (-95, -74)):
            Hole(TROU_POUR_TARAUDAGE_POUR_TROU_TARAUD_2_D / 2, depth=TROU_POUR_TARAUDAGE_POUR_TROU_TARAUD_2_DEPTH)
            with Locations((0, 0, -(TROU_POUR_TARAUDAGE_POUR_TROU_TARAUD_2_DEPTH + TROU_POUR_TARAUDAGE_POUR_TROU_TARAUD_2_TIP / 2))):  # 118° drill point
                Cone(0, TROU_POUR_TARAUDAGE_POUR_TROU_TARAUD_2_D / 2, TROU_POUR_TARAUDAGE_POUR_TROU_TARAUD_2_TIP, mode=Mode.SUBTRACT)


solid = part.part
